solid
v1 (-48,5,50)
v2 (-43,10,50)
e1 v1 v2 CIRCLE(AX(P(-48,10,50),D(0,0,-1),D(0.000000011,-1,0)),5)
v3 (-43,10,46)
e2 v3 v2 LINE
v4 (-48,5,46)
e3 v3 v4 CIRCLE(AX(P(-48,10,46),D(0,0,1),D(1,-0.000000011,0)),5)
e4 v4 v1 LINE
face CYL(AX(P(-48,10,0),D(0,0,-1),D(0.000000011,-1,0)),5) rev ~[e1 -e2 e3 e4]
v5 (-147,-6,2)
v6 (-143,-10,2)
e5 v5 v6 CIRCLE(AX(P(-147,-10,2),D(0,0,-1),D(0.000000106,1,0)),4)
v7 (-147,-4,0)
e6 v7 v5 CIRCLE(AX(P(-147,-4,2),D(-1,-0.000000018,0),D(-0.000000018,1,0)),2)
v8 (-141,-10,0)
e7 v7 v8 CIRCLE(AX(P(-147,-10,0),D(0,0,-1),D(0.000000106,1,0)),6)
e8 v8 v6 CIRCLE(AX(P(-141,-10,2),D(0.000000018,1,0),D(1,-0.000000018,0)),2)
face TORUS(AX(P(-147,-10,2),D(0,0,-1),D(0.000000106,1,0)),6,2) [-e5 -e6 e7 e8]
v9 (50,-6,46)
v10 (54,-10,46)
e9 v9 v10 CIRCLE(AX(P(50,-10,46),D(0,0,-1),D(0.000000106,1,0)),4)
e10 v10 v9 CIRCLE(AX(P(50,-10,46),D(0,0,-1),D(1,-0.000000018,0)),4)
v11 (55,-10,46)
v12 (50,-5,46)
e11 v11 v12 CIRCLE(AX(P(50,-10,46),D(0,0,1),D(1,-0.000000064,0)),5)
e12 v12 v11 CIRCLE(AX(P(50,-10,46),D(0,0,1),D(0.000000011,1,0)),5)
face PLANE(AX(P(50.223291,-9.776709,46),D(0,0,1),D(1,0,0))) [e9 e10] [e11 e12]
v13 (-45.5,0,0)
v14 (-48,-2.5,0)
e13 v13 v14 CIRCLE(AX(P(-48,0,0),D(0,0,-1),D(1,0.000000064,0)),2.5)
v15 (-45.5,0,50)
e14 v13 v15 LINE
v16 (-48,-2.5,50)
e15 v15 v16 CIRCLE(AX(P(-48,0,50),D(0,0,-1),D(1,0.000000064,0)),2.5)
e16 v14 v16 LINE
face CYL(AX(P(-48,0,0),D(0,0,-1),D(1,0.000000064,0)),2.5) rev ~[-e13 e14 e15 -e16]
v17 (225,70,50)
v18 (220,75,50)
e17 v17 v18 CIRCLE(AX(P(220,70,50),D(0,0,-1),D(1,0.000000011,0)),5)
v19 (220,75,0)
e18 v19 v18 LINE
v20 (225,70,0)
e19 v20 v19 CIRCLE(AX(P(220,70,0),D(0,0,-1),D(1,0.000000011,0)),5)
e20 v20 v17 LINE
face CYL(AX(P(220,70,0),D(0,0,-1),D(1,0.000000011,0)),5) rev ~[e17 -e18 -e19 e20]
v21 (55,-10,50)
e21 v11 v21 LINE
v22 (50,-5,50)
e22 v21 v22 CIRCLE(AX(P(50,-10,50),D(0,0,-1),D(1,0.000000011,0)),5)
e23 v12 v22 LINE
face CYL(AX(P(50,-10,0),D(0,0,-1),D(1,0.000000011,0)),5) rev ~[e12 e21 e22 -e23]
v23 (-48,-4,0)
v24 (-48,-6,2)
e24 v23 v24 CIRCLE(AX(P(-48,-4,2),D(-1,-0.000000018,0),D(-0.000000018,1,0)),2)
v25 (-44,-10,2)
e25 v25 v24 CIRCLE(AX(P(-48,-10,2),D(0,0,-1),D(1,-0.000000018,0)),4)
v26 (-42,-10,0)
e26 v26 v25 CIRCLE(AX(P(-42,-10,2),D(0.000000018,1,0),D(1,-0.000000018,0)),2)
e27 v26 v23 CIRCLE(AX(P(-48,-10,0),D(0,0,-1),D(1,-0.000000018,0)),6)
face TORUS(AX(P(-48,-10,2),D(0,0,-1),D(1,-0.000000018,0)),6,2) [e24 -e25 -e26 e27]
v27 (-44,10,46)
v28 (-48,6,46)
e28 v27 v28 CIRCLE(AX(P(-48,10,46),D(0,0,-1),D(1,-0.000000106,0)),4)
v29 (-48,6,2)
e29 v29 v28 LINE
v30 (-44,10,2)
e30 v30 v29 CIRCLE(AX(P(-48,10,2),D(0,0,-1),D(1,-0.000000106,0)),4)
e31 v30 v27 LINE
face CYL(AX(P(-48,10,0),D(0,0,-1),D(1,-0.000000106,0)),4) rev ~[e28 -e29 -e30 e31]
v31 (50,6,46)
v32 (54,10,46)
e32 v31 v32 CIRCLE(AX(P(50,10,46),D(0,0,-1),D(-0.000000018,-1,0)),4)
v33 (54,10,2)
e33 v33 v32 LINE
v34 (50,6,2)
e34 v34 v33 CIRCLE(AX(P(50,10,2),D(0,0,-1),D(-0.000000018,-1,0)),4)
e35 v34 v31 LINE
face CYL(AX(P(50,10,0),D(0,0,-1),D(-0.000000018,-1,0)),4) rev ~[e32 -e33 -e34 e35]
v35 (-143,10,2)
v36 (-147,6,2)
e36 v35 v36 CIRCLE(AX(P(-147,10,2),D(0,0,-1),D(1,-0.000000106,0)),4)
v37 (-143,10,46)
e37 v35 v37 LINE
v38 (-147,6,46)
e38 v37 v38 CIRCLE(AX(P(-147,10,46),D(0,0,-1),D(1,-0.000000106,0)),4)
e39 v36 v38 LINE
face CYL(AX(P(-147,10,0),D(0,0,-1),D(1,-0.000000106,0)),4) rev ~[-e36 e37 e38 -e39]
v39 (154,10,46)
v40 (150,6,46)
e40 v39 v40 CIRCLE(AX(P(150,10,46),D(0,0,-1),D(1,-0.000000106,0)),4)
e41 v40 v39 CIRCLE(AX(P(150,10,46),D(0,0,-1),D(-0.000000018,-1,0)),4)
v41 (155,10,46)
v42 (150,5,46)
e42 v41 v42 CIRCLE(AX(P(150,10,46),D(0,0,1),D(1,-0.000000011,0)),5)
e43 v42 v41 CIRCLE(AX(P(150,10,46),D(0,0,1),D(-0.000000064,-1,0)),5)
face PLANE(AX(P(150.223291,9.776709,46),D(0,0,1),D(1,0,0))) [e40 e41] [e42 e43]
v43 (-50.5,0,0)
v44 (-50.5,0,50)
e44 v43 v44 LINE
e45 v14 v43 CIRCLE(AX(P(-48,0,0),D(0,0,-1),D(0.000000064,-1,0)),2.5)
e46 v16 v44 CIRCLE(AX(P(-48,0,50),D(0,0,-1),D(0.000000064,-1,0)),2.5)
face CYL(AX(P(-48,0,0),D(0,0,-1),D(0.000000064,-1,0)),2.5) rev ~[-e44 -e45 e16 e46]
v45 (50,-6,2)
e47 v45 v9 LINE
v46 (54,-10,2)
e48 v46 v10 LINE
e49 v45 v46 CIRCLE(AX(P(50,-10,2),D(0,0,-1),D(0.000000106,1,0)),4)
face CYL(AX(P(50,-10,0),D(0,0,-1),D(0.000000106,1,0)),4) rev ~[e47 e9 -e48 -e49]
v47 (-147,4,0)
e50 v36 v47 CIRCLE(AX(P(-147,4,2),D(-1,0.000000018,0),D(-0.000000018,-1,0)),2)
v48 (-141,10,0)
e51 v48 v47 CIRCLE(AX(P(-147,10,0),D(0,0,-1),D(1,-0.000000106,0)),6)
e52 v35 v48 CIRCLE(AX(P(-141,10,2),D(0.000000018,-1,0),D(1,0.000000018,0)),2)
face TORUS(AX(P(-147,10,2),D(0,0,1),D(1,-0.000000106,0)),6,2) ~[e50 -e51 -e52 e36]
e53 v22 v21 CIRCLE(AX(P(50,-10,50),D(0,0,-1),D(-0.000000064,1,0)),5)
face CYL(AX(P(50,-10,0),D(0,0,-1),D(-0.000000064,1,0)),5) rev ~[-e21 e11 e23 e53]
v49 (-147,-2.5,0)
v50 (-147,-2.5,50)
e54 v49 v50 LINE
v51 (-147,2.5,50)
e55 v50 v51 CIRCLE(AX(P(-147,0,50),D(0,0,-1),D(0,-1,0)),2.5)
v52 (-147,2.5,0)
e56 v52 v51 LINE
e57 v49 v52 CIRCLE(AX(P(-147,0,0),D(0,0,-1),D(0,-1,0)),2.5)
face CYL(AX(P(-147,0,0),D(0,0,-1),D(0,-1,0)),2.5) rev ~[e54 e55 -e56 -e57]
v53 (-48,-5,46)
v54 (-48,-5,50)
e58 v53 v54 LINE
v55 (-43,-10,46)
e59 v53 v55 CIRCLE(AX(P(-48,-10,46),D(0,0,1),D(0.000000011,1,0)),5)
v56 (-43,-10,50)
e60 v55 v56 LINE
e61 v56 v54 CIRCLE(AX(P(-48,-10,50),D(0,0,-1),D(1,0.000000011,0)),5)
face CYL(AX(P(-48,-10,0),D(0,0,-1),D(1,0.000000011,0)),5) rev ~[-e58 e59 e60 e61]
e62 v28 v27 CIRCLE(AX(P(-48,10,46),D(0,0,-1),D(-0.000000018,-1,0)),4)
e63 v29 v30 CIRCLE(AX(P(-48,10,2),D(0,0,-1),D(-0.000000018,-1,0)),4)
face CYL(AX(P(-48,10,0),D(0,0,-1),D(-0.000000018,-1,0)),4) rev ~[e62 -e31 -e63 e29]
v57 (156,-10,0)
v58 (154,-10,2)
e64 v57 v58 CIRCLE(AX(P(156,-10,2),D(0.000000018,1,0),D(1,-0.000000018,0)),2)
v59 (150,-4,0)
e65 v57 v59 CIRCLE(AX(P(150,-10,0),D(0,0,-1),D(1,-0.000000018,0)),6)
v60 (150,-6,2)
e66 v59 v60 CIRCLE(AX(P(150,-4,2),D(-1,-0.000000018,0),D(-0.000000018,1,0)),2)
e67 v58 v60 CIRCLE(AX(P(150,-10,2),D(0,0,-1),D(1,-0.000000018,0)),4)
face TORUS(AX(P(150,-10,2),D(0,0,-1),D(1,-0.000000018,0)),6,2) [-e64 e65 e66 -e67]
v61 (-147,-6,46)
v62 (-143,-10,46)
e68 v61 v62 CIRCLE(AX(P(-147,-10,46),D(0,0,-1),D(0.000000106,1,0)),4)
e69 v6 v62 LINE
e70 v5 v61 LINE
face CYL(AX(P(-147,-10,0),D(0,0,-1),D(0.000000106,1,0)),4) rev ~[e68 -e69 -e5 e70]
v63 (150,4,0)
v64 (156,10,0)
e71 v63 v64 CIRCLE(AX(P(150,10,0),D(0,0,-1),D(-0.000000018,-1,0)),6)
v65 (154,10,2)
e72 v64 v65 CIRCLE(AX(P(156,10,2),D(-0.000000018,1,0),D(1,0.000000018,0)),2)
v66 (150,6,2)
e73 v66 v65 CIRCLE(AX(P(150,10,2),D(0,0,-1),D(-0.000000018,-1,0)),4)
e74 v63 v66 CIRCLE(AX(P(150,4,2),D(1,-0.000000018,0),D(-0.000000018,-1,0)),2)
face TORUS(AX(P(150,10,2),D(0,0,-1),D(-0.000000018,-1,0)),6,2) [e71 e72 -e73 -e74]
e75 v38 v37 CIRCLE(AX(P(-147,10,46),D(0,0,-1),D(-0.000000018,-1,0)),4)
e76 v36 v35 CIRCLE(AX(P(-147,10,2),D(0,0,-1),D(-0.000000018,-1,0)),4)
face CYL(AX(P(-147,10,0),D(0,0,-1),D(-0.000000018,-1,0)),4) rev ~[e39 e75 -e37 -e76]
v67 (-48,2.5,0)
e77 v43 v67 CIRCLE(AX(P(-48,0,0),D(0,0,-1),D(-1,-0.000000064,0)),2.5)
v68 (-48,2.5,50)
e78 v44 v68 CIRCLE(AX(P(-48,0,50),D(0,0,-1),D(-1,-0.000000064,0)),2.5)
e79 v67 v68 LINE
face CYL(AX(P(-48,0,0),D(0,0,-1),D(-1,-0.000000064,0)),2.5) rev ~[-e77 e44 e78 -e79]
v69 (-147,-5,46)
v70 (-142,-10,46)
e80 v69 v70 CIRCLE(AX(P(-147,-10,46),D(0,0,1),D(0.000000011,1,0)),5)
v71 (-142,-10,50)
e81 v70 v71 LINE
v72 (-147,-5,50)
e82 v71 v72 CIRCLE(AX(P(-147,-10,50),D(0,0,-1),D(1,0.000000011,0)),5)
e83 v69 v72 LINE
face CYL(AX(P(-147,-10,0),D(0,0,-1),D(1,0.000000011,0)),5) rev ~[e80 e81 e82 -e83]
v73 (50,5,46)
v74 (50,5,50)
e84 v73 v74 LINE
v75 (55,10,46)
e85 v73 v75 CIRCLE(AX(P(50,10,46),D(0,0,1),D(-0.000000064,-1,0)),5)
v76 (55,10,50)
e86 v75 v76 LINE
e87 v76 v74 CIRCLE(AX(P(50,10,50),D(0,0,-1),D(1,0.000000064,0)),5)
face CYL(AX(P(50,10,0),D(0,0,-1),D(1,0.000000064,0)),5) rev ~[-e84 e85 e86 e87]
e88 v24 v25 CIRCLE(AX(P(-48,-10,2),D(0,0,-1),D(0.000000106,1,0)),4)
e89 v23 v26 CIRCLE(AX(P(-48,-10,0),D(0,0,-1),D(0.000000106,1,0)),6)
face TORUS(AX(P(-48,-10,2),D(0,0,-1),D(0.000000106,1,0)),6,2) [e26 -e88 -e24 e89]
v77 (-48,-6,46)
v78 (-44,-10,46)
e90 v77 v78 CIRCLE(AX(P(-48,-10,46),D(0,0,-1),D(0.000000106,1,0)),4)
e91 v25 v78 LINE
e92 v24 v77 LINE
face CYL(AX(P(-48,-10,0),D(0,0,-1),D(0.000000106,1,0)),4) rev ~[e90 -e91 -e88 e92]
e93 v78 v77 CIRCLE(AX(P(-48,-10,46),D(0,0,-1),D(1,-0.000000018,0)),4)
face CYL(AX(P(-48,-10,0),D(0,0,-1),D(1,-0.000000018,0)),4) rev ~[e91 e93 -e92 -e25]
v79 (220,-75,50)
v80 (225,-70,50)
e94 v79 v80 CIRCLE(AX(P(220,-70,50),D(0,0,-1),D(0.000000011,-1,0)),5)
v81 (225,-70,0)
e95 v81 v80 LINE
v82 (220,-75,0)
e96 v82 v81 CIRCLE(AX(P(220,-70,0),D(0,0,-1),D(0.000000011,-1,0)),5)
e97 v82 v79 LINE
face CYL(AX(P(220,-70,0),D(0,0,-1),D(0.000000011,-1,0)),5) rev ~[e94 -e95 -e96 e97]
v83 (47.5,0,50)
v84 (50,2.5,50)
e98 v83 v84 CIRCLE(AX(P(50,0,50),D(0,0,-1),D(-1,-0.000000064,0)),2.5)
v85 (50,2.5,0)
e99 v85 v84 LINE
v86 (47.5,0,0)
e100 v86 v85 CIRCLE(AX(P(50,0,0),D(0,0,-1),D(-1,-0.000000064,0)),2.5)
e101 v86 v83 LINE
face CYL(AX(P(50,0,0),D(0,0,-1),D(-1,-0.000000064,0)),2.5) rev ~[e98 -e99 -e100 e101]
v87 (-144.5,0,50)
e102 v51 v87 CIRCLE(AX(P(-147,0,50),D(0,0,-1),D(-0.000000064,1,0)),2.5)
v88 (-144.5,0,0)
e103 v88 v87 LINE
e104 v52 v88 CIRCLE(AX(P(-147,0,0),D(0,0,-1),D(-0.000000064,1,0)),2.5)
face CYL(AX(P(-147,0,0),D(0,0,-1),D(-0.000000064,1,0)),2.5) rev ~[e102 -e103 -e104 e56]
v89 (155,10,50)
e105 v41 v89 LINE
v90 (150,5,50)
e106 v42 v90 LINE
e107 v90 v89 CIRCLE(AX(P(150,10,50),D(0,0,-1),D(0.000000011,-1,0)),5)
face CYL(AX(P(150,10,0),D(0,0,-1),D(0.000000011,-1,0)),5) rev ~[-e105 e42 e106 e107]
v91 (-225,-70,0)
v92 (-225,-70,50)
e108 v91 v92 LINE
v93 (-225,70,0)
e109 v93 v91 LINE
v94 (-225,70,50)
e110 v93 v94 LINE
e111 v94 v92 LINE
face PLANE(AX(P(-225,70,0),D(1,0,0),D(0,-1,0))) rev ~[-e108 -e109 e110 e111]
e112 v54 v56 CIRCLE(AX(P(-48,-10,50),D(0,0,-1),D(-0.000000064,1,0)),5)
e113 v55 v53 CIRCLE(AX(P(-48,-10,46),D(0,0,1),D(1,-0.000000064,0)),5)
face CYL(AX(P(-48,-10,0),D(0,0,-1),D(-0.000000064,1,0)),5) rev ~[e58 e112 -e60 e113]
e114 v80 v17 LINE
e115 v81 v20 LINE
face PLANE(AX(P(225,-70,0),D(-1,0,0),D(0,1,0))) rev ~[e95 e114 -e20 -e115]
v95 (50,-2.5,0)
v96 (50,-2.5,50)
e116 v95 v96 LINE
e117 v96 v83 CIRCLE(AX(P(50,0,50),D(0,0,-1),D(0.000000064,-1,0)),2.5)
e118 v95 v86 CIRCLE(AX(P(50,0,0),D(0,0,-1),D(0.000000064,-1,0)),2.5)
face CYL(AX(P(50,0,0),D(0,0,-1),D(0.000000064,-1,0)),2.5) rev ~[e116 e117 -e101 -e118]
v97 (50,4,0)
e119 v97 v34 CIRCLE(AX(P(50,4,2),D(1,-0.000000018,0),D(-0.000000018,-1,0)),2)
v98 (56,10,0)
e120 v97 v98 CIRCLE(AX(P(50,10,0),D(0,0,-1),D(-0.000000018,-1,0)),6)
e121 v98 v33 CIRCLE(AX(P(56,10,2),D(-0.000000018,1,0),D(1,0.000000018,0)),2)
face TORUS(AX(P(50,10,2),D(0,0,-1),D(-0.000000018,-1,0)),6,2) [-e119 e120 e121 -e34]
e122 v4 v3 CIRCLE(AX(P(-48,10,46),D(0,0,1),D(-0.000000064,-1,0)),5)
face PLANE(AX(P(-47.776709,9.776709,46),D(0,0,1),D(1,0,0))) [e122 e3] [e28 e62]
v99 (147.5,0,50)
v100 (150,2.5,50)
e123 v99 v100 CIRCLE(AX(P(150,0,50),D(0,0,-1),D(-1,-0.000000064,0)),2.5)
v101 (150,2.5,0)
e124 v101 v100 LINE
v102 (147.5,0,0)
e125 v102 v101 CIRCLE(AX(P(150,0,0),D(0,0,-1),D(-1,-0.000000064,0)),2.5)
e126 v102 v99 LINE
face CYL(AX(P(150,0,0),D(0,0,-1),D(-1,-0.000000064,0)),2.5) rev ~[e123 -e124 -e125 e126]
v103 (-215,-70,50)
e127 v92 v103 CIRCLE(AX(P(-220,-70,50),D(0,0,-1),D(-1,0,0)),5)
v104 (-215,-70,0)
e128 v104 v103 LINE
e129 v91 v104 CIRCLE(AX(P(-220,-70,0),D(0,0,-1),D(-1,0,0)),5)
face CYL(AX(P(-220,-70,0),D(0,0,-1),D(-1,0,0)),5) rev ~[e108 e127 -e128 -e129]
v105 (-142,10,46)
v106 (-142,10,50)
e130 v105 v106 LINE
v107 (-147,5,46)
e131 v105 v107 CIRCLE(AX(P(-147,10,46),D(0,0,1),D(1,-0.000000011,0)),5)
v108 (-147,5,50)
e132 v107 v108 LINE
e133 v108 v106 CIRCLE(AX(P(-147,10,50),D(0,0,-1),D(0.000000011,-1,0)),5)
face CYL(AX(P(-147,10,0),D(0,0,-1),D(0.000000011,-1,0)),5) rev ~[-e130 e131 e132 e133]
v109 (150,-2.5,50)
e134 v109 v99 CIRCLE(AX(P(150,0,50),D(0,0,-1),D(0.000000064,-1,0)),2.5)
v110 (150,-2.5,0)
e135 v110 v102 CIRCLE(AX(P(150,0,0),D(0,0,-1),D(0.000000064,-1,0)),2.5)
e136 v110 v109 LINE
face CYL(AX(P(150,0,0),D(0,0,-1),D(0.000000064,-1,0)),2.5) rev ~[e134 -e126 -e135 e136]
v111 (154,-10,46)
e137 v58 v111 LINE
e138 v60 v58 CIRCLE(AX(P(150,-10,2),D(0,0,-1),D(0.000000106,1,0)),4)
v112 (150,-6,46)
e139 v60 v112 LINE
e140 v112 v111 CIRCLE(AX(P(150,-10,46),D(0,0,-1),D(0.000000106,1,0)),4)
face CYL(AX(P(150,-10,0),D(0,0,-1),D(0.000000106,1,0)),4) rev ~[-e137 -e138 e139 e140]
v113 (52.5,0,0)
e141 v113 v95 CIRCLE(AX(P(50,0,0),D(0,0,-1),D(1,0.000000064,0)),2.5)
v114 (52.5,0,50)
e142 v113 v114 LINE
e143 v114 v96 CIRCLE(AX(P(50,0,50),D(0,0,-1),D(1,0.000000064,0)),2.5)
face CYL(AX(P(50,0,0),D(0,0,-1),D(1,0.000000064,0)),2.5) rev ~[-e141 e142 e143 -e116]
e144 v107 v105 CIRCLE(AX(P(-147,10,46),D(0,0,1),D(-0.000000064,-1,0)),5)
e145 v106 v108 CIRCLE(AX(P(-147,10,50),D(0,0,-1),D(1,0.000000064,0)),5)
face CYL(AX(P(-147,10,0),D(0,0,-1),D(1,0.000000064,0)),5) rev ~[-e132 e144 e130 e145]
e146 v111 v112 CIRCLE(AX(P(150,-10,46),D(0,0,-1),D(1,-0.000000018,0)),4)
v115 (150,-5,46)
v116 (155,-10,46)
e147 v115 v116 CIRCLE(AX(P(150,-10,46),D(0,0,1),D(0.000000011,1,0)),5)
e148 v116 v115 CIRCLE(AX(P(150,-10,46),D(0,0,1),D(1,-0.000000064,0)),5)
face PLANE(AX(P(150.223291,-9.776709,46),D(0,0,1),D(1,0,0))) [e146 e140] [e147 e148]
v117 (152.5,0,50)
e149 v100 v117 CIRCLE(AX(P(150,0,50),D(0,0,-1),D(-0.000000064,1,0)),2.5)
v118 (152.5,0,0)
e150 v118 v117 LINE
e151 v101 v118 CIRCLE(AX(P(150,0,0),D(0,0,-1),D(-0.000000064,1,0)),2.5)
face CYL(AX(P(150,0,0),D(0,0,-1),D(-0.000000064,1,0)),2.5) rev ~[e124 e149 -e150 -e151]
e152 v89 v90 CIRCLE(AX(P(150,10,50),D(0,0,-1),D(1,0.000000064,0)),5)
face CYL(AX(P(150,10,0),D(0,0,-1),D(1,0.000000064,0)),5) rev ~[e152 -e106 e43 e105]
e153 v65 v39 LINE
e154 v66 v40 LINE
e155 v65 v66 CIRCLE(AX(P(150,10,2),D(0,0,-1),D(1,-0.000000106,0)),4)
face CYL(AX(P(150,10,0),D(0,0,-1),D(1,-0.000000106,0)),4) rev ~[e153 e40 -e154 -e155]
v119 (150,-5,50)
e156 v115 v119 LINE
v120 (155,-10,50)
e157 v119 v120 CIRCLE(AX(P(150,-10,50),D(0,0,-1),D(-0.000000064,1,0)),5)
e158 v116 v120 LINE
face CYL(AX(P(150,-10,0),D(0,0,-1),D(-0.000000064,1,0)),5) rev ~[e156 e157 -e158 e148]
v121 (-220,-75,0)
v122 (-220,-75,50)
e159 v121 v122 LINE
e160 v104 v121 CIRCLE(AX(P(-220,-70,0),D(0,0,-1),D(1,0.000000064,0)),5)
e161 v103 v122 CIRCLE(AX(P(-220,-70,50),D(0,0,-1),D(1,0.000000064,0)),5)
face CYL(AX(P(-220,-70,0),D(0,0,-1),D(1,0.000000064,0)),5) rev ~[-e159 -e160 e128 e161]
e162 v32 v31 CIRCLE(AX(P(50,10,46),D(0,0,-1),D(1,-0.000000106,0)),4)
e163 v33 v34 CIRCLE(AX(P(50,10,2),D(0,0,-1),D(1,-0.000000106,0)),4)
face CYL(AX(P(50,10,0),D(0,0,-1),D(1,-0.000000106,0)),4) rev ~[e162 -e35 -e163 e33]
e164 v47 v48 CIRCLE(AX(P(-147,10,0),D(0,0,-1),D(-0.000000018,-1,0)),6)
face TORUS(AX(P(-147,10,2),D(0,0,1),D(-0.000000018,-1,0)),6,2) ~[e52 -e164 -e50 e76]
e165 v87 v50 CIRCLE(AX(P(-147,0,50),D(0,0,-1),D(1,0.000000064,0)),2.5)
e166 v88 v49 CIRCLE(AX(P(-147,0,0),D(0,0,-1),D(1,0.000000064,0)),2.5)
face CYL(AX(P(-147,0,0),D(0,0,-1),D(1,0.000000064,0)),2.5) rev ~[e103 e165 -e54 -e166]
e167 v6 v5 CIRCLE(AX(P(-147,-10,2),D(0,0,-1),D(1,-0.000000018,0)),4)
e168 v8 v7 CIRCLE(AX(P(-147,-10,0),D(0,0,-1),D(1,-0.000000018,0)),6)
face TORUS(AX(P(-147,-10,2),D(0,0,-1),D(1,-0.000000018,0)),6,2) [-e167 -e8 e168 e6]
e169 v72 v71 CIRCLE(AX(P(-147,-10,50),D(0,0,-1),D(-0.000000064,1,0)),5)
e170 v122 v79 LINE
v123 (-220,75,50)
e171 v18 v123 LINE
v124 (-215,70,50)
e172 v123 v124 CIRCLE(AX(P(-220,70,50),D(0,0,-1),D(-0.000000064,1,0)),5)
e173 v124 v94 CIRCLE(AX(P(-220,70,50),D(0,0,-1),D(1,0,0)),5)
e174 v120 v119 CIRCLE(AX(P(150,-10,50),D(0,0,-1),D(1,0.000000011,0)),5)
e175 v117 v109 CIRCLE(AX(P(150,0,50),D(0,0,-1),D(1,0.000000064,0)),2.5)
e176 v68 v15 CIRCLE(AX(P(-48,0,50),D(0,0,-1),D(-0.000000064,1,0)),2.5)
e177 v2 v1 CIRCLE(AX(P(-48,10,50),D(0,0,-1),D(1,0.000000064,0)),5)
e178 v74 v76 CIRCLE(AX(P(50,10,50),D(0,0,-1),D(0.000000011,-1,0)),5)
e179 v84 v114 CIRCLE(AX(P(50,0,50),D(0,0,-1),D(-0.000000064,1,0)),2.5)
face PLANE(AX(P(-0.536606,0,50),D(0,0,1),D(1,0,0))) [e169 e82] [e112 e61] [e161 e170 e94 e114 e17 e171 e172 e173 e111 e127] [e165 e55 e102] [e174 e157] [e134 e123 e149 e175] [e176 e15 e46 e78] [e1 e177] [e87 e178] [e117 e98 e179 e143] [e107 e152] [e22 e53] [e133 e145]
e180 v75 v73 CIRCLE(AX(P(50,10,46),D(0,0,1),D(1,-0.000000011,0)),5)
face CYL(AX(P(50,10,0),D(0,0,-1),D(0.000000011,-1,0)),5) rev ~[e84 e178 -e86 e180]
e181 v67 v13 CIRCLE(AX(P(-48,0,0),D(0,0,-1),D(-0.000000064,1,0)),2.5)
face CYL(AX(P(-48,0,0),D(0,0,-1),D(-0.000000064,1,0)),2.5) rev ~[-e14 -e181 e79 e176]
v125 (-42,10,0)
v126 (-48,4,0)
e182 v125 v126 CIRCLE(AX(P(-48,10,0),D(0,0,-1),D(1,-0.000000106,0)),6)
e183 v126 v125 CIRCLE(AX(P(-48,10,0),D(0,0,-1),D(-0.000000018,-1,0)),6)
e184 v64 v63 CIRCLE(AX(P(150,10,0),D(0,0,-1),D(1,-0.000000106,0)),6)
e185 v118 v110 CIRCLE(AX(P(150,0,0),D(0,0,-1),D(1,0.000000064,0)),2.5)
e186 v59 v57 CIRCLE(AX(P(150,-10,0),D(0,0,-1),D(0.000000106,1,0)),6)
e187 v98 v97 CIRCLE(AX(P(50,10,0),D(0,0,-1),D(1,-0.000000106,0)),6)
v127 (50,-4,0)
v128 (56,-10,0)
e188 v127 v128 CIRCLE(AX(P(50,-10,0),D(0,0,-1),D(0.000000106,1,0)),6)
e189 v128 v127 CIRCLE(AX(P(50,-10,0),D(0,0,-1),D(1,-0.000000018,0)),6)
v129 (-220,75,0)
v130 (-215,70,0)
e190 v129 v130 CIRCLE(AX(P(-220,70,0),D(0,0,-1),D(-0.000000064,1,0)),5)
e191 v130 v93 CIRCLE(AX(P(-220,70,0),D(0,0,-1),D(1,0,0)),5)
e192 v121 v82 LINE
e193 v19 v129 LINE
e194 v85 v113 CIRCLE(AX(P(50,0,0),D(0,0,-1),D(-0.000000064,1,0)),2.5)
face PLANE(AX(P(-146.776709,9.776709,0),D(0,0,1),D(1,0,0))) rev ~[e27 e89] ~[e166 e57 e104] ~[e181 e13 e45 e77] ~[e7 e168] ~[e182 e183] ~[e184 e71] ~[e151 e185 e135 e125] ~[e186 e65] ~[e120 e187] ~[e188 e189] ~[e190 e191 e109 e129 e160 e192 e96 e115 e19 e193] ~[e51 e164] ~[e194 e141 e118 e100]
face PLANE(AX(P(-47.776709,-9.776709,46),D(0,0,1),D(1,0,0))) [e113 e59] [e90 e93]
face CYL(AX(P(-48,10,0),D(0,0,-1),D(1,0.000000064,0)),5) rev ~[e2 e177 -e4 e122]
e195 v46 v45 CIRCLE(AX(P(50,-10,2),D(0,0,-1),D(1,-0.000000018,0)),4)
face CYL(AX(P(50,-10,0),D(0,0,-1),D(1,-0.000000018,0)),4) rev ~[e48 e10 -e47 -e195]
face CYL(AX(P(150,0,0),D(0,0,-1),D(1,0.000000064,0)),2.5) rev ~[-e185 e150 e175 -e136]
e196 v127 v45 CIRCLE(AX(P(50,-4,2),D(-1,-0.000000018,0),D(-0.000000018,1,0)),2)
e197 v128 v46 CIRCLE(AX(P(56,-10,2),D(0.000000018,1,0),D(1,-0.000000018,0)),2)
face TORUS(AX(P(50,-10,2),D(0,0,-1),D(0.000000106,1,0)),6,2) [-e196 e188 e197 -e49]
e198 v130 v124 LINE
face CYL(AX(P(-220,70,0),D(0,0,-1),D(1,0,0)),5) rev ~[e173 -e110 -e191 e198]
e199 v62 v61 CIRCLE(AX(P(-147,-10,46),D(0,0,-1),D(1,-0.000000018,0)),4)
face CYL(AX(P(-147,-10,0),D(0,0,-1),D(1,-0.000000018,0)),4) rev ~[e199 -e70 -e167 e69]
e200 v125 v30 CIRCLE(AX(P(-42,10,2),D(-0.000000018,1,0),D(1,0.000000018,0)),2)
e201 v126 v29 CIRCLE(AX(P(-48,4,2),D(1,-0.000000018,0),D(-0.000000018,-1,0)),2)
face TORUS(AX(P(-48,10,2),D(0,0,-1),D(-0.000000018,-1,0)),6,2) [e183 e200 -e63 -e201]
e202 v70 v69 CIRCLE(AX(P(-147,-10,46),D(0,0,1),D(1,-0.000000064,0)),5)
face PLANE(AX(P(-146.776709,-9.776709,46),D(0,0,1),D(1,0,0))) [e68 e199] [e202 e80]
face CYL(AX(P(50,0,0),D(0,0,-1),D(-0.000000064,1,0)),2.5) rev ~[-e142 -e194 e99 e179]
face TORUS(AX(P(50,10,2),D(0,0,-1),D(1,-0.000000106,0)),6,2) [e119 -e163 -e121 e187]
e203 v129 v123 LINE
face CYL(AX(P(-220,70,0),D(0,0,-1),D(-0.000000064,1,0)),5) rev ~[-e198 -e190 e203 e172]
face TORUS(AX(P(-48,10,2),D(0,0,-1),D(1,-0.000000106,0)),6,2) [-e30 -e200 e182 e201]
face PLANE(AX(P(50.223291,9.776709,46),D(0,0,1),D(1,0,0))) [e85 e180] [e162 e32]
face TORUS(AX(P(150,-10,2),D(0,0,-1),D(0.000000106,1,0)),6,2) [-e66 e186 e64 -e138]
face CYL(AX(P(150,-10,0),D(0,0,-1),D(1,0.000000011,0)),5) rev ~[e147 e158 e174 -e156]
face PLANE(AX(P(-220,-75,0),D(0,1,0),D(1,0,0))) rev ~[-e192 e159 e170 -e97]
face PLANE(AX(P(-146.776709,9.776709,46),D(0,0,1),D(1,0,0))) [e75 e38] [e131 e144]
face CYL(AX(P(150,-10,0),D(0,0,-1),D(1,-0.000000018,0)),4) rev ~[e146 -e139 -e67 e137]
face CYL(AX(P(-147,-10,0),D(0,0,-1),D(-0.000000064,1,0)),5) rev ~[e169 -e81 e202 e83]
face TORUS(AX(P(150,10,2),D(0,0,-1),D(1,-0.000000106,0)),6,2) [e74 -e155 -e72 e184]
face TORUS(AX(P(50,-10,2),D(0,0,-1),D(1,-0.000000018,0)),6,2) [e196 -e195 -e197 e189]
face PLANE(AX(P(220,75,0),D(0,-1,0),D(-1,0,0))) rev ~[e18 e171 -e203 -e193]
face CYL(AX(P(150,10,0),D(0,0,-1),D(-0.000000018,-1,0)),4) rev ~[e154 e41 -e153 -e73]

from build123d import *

# Parameters (mm, degrees)
F0_R     = 20
F1_DEPTH = 50
F3_DEPTH = 46
F4_R     = 2


with BuildPart() as f1:
    # F0 (on Top) → F1 (new body)
    with BuildSketch(Plane.XY):
        with BuildLine():
            Line((220, 75), (-220, 75))
            ThreePointArc((-220, 75), (-216.464466, 73.535534), (-215, 70))
            ThreePointArc((-215, 70), (-220, 65), (-225, 70))
            Line((-225, 70), (-225, -70))
            ThreePointArc((-225, -70), (-220, -65), (-215, -70))
            ThreePointArc((-215, -70), (-216.464466, -73.535534), (-220, -75))
            Line((-220, -75), (220, -75))
            ThreePointArc((220, -75), (216.464466, -66.464466), (225, -70))
            Line((225, -70), (225, 70))
            ThreePointArc((225, 70), (216.464466, 66.464466), (220, 75))
        make_face()
        with Locations((-147, 0)):
            Circle(F0_R, mode=Mode.SUBTRACT)
        with BuildLine():
            ThreePointArc((-68, 0), (-48, 20), (-28, 0))
            ThreePointArc((-28, 0), (-48, -20), (-68, 0))
        make_face(mode=Mode.SUBTRACT)
        with BuildLine():
            ThreePointArc((70, 0), (50, -20), (30, 0))
            ThreePointArc((30, 0), (50, 20), (70, 0))
        make_face(mode=Mode.SUBTRACT)
        with BuildLine():
            ThreePointArc((170, 0), (150, -20), (130, 0))
            ThreePointArc((130, 0), (150, 20), (170, 0))
        make_face(mode=Mode.SUBTRACT)
        with Locations((-147, 0)):
            Circle(F0_R)
        with BuildLine():
            ThreePointArc((-142, -10), (-150.535534, -13.535534), (-147, -5))
            ThreePointArc((-147, -5), (-143.464466, -6.464466), (-142, -10))
        make_face(mode=Mode.SUBTRACT)
        with BuildLine():
            ThreePointArc((-147, 2.5), (-145.232233, 1.767767), (-144.5, 0))
            ThreePointArc((-144.5, 0), (-145.232233, -1.767767), (-147, -2.5))
            ThreePointArc((-147, -2.5), (-149.5, 0), (-147, 2.5))
        make_face(mode=Mode.SUBTRACT)
        with BuildLine():
            ThreePointArc((-142, 10), (-143.464466, 6.464466), (-147, 5))
            ThreePointArc((-147, 5), (-150.535534, 13.535534), (-142, 10))
        make_face(mode=Mode.SUBTRACT)
        with BuildLine():
            ThreePointArc((170, 0), (150, 20), (130, 0))
            ThreePointArc((130, 0), (150, -20), (170, 0))
        make_face()
        with BuildLine():
            ThreePointArc((155, -10), (146.464466, -13.535534), (150, -5))
            ThreePointArc((150, -5), (153.535534, -6.464466), (155, -10))
        make_face(mode=Mode.SUBTRACT)
        with BuildLine():
            ThreePointArc((150, -2.5), (148.232233, -1.767767), (147.5, 0))
            ThreePointArc((147.5, 0), (148.232233, 1.767767), (150, 2.5))
            ThreePointArc((150, 2.5), (151.767767, 1.767767), (152.5, 0))
            ThreePointArc((152.5, 0), (151.767767, -1.767767), (150, -2.5))
        make_face(mode=Mode.SUBTRACT)
        with BuildLine():
            ThreePointArc((155, 10), (153.535534, 6.464466), (150, 5))
            ThreePointArc((150, 5), (146.464466, 13.535534), (155, 10))
        make_face(mode=Mode.SUBTRACT)
        with BuildLine():
            ThreePointArc((70, 0), (50, 20), (30, 0))
            Line((30, 0), (47.5, 0))
            ThreePointArc((47.5, 0), (48.232233, 1.767767), (50, 2.5))
            ThreePointArc((50, 2.5), (51.767767, 1.767767), (52.5, 0))
            Line((52.5, 0), (70, 0))
        make_face()
        with BuildLine():
            ThreePointArc((55, 10), (53.535534, 6.464466), (50, 5))
            ThreePointArc((50, 5), (46.464466, 13.535534), (55, 10))
        make_face(mode=Mode.SUBTRACT)
        with BuildLine():
            Line((47.5, 0), (30, 0))
            ThreePointArc((30, 0), (50, -20), (70, 0))
            Line((70, 0), (52.5, 0))
            ThreePointArc((52.5, 0), (51.767767, -1.767767), (50, -2.5))
            ThreePointArc((50, -2.5), (48.232233, -1.767767), (47.5, 0))
        make_face()
        with BuildLine():
            ThreePointArc((55, -10), (46.464466, -13.535534), (50, -5))
            ThreePointArc((50, -5), (53.535534, -6.464466), (55, -10))
        make_face(mode=Mode.SUBTRACT)
        with BuildLine():
            Line((-45.5, 0), (-28, 0))
            ThreePointArc((-28, 0), (-48, 20), (-68, 0))
            Line((-68, 0), (-50.5, 0))
            ThreePointArc((-50.5, 0), (-49.767767, 1.767767), (-48, 2.5))
            ThreePointArc((-48, 2.5), (-46.232233, 1.767767), (-45.5, 0))
        make_face()
        with BuildLine():
            ThreePointArc((-43, 10), (-44.464466, 6.464466), (-48, 5))
            ThreePointArc((-48, 5), (-51.535534, 13.535534), (-43, 10))
        make_face(mode=Mode.SUBTRACT)
        with BuildLine():
            ThreePointArc((-68, 0), (-48, -20), (-28, 0))
            Line((-28, 0), (-45.5, 0))
            ThreePointArc((-45.5, 0), (-46.232233, -1.767767), (-48, -2.5))
            ThreePointArc((-48, -2.5), (-49.767767, -1.767767), (-50.5, 0))
            Line((-50.5, 0), (-68, 0))
        make_face()
        with BuildLine():
            ThreePointArc((-43, -10), (-51.535534, -13.535534), (-48, -5))
            ThreePointArc((-48, -5), (-44.464466, -6.464466), (-43, -10))
        make_face(mode=Mode.SUBTRACT)
    extrude(amount=F1_DEPTH)

    # F0 (on Top) → F3 (join)
    with BuildSketch(Plane.XY):
        with BuildLine():
            ThreePointArc((-142, 10), (-150.535534, 13.535534), (-147, 5))
            ThreePointArc((-147, 5), (-143.464466, 6.464466), (-142, 10))
        make_face()
        with BuildLine():
            ThreePointArc((-143, 10), (-144.171573, 7.171573), (-147, 6))
            ThreePointArc((-147, 6), (-149.828427, 12.828427), (-143, 10))
        make_face(mode=Mode.SUBTRACT)
        with BuildLine():
            ThreePointArc((-142, -10), (-143.464466, -6.464466), (-147, -5))
            ThreePointArc((-147, -5), (-150.535534, -13.535534), (-142, -10))
        make_face()
        with BuildLine():
            ThreePointArc((-143, -10), (-149.828427, -12.828427), (-147, -6))
            ThreePointArc((-147, -6), (-144.171573, -7.171573), (-143, -10))
        make_face(mode=Mode.SUBTRACT)
        with BuildLine():
            ThreePointArc((-43, 10), (-51.535534, 13.535534), (-48, 5))
            ThreePointArc((-48, 5), (-44.464466, 6.464466), (-43, 10))
        make_face()
        with BuildLine():
            ThreePointArc((-44, 10), (-45.171573, 7.171573), (-48, 6))
            ThreePointArc((-48, 6), (-50.828427, 12.828427), (-44, 10))
        make_face(mode=Mode.SUBTRACT)
        with BuildLine():
            ThreePointArc((-43, -10), (-44.464466, -6.464466), (-48, -5))
            ThreePointArc((-48, -5), (-51.535534, -13.535534), (-43, -10))
        make_face()
        with BuildLine():
            ThreePointArc((-44, -10), (-50.828427, -12.828427), (-48, -6))
            ThreePointArc((-48, -6), (-45.171573, -7.171573), (-44, -10))
        make_face(mode=Mode.SUBTRACT)
        with BuildLine():
            ThreePointArc((55, -10), (53.535534, -6.464466), (50, -5))
            ThreePointArc((50, -5), (46.464466, -13.535534), (55, -10))
        make_face()
        with BuildLine():
            ThreePointArc((54, -10), (47.171573, -12.828427), (50, -6))
            ThreePointArc((50, -6), (52.828427, -7.171573), (54, -10))
        make_face(mode=Mode.SUBTRACT)
        with BuildLine():
            ThreePointArc((55, 10), (46.464466, 13.535534), (50, 5))
            ThreePointArc((50, 5), (53.535534, 6.464466), (55, 10))
        make_face()
        with BuildLine():
            ThreePointArc((54, 10), (52.828427, 7.171573), (50, 6))
            ThreePointArc((50, 6), (47.171573, 12.828427), (54, 10))
        make_face(mode=Mode.SUBTRACT)
        with BuildLine():
            ThreePointArc((155, 10), (146.464466, 13.535534), (150, 5))
            ThreePointArc((150, 5), (153.535534, 6.464466), (155, 10))
        make_face()
        with BuildLine():
            ThreePointArc((154, 10), (152.828427, 7.171573), (150, 6))
            ThreePointArc((150, 6), (147.171573, 12.828427), (154, 10))
        make_face(mode=Mode.SUBTRACT)
        with BuildLine():
            ThreePointArc((155, -10), (153.535534, -6.464466), (150, -5))
            ThreePointArc((150, -5), (146.464466, -13.535534), (155, -10))
        make_face()
        with BuildLine():
            ThreePointArc((154, -10), (147.171573, -12.828427), (150, -6))
            ThreePointArc((150, -6), (152.828427, -7.171573), (154, -10))
        make_face(mode=Mode.SUBTRACT)
    extrude(amount=F3_DEPTH)

    # F4
    f4_edges = [f1.edges().sort_by_distance(p)[0] for p in [
        (-147, -14, 0),
        (-151, 10, 0),
        (-48, -14, 0),
        (-52, 10, 0),
        (50, -14, 0),
        (46, 10, 0),
        (150, -14, 0),
        (146, 10, 0),
    ]]
    fillet(f4_edges, radius=F4_R)


solid = f1.part
